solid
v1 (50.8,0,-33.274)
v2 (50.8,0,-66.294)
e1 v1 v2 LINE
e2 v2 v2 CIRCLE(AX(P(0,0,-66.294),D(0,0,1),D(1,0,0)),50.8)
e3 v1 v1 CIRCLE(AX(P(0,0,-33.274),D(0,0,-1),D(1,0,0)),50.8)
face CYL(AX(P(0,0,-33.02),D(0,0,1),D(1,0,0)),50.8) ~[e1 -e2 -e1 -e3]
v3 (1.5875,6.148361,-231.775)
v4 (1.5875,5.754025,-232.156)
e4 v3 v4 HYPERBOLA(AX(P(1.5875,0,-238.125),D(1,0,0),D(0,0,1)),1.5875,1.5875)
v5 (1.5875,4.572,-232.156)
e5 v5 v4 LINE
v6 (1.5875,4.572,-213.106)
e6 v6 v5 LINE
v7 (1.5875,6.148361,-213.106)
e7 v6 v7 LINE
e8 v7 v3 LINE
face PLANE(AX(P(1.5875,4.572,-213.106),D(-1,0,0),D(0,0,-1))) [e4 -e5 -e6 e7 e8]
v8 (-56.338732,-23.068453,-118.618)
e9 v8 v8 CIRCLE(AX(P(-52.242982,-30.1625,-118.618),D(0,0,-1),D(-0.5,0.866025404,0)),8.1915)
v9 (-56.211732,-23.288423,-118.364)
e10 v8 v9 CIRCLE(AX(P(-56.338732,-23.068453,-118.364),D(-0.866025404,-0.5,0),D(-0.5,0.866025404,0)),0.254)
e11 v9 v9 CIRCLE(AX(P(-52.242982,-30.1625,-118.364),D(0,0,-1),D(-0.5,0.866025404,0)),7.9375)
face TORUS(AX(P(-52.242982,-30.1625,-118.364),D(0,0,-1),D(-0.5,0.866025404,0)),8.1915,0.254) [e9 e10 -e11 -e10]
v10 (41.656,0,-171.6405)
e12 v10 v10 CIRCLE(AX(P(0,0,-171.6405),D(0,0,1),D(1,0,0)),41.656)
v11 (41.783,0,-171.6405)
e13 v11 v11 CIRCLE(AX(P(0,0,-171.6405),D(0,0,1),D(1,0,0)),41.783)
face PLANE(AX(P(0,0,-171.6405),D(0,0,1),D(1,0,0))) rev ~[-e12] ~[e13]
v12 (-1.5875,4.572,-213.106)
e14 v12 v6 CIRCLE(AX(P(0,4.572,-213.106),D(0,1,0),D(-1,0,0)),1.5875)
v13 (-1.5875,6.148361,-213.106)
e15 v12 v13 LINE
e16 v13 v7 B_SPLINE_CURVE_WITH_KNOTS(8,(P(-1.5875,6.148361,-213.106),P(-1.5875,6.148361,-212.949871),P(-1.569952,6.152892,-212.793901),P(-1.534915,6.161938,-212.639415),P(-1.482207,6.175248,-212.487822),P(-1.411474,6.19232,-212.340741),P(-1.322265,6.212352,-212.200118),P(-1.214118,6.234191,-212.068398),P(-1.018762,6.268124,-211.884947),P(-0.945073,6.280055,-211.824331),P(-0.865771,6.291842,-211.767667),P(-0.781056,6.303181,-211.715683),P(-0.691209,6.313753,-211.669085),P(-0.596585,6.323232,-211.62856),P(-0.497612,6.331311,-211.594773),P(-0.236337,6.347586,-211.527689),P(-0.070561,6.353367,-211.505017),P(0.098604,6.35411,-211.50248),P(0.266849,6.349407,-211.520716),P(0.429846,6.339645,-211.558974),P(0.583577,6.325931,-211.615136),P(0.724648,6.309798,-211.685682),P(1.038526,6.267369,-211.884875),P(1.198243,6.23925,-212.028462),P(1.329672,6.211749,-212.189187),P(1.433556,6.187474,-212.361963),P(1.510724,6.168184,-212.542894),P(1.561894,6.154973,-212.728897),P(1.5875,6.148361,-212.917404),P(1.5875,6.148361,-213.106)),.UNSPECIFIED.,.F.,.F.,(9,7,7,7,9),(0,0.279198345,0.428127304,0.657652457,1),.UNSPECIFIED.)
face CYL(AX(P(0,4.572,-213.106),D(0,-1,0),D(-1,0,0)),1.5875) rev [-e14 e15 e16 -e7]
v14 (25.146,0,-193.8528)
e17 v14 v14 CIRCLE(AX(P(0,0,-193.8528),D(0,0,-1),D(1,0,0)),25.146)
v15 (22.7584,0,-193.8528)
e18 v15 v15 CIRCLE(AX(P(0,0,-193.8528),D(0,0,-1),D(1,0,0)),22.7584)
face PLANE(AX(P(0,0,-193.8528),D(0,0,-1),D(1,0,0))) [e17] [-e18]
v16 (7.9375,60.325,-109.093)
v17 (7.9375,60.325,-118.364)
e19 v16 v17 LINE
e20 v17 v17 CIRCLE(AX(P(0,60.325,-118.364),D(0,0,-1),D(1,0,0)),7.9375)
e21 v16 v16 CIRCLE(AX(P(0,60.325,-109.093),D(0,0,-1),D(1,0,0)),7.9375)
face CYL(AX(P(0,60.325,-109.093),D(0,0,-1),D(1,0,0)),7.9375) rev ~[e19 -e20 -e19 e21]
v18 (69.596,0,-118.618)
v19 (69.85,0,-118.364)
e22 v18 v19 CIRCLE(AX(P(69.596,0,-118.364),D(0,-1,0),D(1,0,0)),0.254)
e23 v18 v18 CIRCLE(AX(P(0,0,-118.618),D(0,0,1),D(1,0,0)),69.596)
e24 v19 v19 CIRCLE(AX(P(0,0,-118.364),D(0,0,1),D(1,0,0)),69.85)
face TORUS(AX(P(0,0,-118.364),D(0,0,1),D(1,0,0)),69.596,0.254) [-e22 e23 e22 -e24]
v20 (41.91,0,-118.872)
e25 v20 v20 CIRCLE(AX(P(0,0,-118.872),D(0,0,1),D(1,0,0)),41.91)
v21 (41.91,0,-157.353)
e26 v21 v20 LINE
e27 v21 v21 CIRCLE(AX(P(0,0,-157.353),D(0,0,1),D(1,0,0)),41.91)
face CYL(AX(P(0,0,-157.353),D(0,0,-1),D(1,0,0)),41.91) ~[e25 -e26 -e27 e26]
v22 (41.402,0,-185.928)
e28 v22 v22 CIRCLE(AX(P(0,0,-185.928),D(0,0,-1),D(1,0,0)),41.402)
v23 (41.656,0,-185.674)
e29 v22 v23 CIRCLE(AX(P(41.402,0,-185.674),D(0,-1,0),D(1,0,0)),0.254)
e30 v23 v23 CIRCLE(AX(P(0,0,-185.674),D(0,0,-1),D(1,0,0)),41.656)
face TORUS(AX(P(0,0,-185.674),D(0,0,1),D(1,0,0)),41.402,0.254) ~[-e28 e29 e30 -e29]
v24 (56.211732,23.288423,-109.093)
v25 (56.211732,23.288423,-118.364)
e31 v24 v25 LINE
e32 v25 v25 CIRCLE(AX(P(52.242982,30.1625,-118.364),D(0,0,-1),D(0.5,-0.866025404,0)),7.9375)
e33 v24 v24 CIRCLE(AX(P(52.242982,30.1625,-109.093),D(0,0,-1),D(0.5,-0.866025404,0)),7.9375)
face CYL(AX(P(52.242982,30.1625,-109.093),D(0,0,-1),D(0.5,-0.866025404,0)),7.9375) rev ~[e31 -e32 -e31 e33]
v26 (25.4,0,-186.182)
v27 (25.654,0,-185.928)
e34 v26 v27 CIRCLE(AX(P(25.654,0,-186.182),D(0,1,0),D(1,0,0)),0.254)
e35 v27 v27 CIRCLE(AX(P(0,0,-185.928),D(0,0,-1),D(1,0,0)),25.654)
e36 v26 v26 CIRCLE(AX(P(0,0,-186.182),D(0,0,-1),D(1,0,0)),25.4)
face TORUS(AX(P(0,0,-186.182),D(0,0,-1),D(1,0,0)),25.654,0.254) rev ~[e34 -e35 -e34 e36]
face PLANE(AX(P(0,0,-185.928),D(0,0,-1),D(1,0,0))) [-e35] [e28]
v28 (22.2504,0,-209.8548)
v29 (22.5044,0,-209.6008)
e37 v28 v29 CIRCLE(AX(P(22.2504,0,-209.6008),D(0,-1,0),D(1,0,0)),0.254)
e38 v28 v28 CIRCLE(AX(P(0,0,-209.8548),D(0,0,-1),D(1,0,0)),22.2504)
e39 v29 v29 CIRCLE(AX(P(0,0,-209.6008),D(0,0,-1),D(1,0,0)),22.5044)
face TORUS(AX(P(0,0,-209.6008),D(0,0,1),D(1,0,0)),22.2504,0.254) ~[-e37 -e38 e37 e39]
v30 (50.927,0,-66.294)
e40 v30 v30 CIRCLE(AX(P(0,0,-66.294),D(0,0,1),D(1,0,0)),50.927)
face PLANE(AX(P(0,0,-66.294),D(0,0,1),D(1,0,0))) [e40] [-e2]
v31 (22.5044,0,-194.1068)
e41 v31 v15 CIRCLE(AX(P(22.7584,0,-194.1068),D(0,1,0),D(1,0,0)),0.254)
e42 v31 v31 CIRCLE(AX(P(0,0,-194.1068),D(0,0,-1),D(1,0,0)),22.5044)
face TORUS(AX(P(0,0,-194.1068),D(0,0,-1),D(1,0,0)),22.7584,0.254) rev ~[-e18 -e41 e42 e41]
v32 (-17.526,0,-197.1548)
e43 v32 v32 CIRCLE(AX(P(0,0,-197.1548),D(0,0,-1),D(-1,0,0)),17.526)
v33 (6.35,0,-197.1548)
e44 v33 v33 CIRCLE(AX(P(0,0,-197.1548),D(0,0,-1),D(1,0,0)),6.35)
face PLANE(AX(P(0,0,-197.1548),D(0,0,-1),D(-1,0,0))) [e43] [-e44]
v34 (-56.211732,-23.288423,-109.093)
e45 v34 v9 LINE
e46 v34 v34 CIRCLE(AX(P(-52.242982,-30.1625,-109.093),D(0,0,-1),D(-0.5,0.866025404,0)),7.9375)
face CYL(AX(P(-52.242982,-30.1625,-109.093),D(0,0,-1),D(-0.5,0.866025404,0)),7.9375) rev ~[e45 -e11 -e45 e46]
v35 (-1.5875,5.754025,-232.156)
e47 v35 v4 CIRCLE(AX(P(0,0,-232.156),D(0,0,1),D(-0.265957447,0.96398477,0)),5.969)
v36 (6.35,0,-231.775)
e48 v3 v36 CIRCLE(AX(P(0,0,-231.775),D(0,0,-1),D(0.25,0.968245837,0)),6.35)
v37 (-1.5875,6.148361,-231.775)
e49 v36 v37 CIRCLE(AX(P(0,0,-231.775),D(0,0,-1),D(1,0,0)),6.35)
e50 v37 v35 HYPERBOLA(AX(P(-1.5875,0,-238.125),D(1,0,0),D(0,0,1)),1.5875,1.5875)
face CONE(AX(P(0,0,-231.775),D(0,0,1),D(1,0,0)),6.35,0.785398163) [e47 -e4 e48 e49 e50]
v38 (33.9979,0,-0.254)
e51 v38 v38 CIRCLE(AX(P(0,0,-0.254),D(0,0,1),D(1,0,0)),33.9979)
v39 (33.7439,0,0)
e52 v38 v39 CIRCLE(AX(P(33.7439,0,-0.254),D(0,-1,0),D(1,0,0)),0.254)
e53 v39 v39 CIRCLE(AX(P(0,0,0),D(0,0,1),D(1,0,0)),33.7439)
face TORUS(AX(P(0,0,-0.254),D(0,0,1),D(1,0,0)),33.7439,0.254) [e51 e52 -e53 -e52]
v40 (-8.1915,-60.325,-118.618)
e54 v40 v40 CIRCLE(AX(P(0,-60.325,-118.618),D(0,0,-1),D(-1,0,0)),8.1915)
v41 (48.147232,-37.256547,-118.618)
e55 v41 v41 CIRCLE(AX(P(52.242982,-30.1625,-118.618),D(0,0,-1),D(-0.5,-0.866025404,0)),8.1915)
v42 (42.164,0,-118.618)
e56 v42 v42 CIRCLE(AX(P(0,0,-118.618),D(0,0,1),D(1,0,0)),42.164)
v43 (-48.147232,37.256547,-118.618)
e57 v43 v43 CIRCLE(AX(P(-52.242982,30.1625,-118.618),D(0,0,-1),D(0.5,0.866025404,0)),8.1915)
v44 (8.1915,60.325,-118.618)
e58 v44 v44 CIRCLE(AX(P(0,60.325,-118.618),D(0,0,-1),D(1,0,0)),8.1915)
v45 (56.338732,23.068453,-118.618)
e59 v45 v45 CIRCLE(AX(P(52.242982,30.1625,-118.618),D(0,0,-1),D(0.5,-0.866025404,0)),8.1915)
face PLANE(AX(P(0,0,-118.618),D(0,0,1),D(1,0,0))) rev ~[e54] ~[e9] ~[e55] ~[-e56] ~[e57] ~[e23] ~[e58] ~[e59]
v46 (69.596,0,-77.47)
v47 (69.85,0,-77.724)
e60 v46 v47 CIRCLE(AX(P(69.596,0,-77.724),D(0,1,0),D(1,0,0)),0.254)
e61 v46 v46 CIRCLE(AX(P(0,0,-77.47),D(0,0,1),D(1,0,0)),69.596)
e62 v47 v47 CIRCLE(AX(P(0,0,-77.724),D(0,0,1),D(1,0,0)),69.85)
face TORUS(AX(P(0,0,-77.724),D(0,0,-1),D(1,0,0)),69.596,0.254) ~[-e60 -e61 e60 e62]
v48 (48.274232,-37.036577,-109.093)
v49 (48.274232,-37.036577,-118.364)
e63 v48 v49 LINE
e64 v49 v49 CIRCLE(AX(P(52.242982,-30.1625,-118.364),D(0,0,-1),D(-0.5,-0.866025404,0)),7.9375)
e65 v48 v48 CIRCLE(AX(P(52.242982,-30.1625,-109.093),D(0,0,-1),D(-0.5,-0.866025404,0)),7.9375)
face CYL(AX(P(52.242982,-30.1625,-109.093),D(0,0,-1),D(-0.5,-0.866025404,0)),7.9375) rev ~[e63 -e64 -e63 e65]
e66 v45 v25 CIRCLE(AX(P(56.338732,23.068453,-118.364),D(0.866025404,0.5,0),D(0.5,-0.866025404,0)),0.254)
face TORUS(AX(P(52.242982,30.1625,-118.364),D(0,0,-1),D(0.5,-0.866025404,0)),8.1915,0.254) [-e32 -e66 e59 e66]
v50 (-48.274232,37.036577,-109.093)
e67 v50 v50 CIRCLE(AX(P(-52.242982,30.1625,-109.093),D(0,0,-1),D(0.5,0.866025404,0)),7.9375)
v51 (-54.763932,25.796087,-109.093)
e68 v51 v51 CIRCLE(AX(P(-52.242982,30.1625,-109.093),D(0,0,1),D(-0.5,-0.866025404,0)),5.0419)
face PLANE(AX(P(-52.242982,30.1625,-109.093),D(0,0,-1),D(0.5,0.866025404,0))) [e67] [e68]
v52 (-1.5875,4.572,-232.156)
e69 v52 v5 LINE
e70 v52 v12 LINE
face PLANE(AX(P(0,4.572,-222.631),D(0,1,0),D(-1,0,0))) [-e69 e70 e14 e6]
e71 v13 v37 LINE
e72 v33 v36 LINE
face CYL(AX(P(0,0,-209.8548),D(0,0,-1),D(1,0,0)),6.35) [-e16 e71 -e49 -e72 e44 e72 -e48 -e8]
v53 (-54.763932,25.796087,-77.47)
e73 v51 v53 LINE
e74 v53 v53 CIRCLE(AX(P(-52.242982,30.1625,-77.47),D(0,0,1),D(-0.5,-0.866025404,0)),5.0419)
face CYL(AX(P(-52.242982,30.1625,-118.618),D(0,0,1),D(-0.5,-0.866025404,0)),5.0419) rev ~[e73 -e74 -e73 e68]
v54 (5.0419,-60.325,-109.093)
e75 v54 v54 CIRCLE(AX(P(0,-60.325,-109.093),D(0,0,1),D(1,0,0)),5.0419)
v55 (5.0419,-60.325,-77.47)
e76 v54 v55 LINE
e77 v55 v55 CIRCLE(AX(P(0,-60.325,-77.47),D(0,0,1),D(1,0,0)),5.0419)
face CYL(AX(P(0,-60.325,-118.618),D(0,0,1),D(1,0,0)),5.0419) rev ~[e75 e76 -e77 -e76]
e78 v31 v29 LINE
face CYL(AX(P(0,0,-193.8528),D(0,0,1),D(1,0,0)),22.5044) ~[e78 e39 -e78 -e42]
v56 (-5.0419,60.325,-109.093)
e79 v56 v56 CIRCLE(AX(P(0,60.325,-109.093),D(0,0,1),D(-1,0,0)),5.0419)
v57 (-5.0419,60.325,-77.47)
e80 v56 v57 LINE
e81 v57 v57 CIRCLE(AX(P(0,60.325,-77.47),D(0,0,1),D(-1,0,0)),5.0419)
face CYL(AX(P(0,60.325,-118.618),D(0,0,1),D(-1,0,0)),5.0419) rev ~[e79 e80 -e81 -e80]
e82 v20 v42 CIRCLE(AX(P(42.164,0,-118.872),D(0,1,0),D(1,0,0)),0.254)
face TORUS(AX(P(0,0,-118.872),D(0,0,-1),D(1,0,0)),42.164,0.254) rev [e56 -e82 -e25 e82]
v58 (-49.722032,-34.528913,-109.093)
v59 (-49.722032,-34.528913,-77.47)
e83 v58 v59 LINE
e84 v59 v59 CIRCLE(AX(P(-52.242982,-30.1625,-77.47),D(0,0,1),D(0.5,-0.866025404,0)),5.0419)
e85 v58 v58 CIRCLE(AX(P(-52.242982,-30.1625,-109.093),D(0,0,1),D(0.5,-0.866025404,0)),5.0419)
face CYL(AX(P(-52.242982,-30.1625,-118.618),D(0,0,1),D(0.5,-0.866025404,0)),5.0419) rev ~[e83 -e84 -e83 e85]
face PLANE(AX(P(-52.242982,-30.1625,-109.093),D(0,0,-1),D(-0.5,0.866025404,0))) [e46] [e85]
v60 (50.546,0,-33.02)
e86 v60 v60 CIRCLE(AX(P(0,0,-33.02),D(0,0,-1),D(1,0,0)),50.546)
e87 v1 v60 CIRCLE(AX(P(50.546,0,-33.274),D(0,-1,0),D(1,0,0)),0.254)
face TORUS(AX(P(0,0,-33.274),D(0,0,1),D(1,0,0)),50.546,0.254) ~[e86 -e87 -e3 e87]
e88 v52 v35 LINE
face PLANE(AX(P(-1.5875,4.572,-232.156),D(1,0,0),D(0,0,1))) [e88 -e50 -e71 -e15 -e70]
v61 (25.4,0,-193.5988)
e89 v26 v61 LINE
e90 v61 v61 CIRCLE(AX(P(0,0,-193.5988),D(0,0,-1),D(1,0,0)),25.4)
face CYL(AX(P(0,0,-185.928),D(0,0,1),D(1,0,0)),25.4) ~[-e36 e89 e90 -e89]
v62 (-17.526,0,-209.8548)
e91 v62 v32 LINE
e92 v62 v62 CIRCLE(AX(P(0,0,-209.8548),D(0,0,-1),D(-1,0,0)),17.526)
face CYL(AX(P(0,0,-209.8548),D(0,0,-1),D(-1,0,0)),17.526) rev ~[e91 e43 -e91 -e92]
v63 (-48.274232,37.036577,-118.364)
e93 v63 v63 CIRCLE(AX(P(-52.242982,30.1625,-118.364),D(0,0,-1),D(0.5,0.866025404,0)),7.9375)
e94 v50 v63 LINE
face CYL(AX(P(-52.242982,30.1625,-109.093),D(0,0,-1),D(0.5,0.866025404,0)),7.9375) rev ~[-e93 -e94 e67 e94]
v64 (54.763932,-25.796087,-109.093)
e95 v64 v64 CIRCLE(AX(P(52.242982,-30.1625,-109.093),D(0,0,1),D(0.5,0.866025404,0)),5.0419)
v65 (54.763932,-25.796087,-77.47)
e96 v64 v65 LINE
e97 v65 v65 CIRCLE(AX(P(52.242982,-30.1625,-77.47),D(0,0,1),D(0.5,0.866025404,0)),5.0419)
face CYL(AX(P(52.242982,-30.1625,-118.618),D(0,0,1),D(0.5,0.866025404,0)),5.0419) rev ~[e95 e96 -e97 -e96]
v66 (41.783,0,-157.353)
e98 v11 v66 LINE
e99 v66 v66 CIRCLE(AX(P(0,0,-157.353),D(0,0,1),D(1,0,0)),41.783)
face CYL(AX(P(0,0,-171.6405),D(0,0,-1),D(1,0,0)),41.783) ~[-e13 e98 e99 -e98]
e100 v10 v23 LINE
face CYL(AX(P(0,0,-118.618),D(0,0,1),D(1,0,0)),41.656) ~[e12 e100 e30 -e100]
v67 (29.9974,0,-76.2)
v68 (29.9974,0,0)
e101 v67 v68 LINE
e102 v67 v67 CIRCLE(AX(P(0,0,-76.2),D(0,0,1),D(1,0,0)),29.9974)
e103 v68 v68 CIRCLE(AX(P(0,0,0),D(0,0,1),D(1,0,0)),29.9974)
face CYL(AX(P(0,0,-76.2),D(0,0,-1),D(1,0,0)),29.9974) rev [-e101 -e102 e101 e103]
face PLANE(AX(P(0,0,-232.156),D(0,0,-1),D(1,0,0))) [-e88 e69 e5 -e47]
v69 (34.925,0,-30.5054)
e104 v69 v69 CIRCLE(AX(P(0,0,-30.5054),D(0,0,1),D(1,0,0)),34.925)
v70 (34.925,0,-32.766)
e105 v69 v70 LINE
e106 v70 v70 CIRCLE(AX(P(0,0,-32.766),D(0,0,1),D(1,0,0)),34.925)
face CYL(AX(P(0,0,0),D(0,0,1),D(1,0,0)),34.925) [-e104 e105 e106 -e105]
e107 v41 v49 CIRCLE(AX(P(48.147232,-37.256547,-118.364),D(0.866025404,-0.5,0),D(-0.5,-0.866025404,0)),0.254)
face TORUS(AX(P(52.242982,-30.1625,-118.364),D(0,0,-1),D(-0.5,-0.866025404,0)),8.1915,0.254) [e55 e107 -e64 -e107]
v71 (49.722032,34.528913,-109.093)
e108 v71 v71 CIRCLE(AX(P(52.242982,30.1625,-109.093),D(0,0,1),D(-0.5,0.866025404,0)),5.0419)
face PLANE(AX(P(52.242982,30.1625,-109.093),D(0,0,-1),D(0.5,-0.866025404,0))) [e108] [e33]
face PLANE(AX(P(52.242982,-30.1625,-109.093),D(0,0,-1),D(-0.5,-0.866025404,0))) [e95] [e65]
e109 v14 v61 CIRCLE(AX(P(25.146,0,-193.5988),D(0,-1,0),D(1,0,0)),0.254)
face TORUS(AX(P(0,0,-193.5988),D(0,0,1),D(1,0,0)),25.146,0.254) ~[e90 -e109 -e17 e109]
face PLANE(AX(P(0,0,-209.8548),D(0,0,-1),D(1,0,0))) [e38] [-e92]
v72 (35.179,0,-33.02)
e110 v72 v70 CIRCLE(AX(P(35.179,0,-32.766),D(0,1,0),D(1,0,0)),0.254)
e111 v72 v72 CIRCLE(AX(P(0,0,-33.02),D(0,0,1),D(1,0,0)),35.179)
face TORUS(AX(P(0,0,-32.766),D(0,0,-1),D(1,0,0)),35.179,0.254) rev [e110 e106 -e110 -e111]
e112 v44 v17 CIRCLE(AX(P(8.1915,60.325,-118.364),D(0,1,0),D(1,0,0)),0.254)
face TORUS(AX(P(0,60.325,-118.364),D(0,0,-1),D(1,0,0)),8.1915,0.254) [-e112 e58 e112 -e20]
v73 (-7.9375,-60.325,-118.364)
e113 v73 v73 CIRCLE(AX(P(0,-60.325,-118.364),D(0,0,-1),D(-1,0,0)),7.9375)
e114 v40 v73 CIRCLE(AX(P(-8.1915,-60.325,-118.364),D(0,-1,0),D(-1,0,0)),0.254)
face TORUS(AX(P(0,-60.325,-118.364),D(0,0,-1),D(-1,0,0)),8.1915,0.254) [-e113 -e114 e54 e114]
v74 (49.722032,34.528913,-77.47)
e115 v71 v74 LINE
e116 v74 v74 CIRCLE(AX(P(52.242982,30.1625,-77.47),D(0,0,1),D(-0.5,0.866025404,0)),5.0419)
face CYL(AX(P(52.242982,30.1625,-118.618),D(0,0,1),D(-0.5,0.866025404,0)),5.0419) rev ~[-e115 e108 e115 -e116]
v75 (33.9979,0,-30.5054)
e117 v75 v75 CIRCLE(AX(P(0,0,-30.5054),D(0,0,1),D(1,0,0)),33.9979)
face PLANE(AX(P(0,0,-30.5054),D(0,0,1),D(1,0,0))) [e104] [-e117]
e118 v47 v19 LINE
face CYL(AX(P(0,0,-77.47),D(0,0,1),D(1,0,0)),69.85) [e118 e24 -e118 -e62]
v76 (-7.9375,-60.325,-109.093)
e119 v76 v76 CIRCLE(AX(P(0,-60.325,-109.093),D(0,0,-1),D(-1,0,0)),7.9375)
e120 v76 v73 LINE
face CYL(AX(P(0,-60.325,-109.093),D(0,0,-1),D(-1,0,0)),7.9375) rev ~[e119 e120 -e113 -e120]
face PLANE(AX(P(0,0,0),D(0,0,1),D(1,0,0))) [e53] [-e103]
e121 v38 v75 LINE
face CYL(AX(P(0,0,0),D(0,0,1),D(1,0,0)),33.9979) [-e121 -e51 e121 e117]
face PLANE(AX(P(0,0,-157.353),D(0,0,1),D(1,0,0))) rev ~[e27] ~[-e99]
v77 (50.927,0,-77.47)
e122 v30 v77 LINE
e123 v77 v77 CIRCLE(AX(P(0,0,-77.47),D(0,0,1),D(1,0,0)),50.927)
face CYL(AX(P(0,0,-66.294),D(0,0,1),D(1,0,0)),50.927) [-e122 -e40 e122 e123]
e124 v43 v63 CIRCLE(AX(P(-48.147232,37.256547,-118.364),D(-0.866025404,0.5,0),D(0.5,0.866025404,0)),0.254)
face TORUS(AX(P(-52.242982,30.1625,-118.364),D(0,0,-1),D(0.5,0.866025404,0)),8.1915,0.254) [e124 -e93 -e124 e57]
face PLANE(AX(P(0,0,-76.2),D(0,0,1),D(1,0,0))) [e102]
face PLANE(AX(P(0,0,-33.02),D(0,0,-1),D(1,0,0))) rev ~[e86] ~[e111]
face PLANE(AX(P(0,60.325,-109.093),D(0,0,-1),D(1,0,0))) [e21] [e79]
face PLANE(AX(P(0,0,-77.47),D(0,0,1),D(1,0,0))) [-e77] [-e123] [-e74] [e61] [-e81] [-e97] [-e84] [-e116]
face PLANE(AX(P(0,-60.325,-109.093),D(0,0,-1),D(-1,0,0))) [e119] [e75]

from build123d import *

# Parameters (mm, degrees)
SKETCH1_R                 = 34.925
EXTRUDE_E_DEPTH           = 33.02
SKETCH2_R                 = 34.925
SKETCH2_R_2               = 33.9979
FROM_DRAWING_DEPTH        = 30.5054
SKETCH3_R                 = 50.8
EXTRUDE_C_DEPTH           = 44.45
SKETCH4_R                 = 50.927
SKETCH4_R_2               = 50.8
BOSS_EXTRUDE3_DEPTH       = 11.176
SKETCH5_R                 = 69.85
EXTRUDE_B_DEPTH           = 41.148
CUT_EXTRUDE_START         = -76.2
SKETCH6_R                 = 29.9974
CUT_EXTRUDE_F_DEPTH       = 76.2
SKETCH8_R                 = 41.656
EXTRUDE_D_DEPTH           = 67.31
BOSS_EXTRUDE6_START       = 14.2875
SKETCH9_R                 = 41.783
BOSS_EXTRUDE6_DEPTH       = 14.2875
SKETCH10_R                = 41.91
BOSS_EXTRUDE7_DEPTH       = 38.735
SKETCH11_R                = 25.4
FROM_DRAWING_2_DEPTH      = 7.9248
SKETCH12_R                = 22.5044
EXTRUDE_Q_DEPTH           = 16.002
SKETCH13_R                = 6.35
EXTRUDE_R_DEPTH           = 22.3012
HOLE_WIZARD_S_D           = 10.0838
HOLE_WIZARD_S_CBORE_D     = 15.875
HOLE_WIZARD_S_CBORE_DEPTH = 9.525
CIRPATTERN1_COUNT         = 6
SKETCH16_R                = 17.526
SKETCH16_R_2              = 6.35
CUT_EXTRUDE3_DEPTH        = 12.7
CUT_EXTRUDE_T_DEPTH       = 66.278
CHAMFER1_SIZE             = 0.381
FILLET1_R                 = 0.254


with BuildPart() as part:
    # Sketch1 → Extrude E (new body)
    with BuildSketch(Plane.XY):
        Circle(SKETCH1_R)
    extrude(amount=-EXTRUDE_E_DEPTH)

    # Sketch2 → from drawing (cut)
    with BuildSketch(Plane.XY):
        Circle(SKETCH2_R)
        Circle(SKETCH2_R_2, mode=Mode.SUBTRACT)
    extrude(amount=-FROM_DRAWING_DEPTH, mode=Mode.SUBTRACT)

    # Sketch3 → Extrude C (add)
    with BuildSketch(Plane(origin=(0, 0, -33.02), x_dir=(-1, 0, 0), z_dir=(0, 0, -1))):
        with Locations(Location((0, 0, 0), (0, 0, 180))):  # turned: the seam where the file's is
            Circle(SKETCH3_R)
    extrude(amount=EXTRUDE_C_DEPTH)

    # Sketch4 → Boss-Extrude3 (add)
    with BuildSketch(Plane.XY.offset(-66.294)):
        Circle(SKETCH4_R)
        Circle(SKETCH4_R_2, mode=Mode.SUBTRACT)
    extrude(amount=-BOSS_EXTRUDE3_DEPTH)

    # Sketch5 → Extrude B (add)
    with BuildSketch(Plane.XY.offset(-77.47)):
        Circle(SKETCH5_R)
    extrude(amount=-EXTRUDE_B_DEPTH)

    # Sketch6 → Cut-Extrude F (cut)
    with BuildSketch(Plane.XY.offset(CUT_EXTRUDE_START)):
        Circle(SKETCH6_R)
    extrude(amount=CUT_EXTRUDE_F_DEPTH, mode=Mode.SUBTRACT)

    # Sketch8 → Extrude D (add)
    with BuildSketch(Plane(origin=(0, 0, -118.618), x_dir=(-1, 0, 0), z_dir=(0, 0, -1))):
        with Locations(Location((0, 0, 0), (0, 0, 180))):  # turned: the seam where the file's is
            Circle(SKETCH8_R)
    extrude(amount=EXTRUDE_D_DEPTH)

    # Sketch9 → Boss-Extrude6 (add)
    with BuildSketch(Plane.XY.offset(-185.928).offset(BOSS_EXTRUDE6_START)):
        Circle(SKETCH9_R)
    extrude(amount=BOSS_EXTRUDE6_DEPTH)

    # Sketch10 → Boss-Extrude7 (add)
    with BuildSketch(Plane.XY.offset(-157.353)):
        Circle(SKETCH10_R)
    extrude(amount=BOSS_EXTRUDE7_DEPTH)

    # Sketch11 → from drawing 2 (add)
    with BuildSketch(Plane(origin=(0, 0, -185.928), x_dir=(-1, 0, 0), z_dir=(0, 0, -1))):
        with Locations(Location((0, 0, 0), (0, 0, 180))):  # turned: the seam where the file's is
            Circle(SKETCH11_R)
    extrude(amount=FROM_DRAWING_2_DEPTH)

    # Sketch12 → Extrude Q (add)
    with BuildSketch(Plane(origin=(0, 0, -193.8528), x_dir=(-1, 0, 0), z_dir=(0, 0, -1))):
        with Locations(Location((0, 0, 0), (0, 0, 180))):  # turned: the seam where the file's is
            Circle(SKETCH12_R)
    extrude(amount=EXTRUDE_Q_DEPTH)

    # Sketch13 → Extrude R (add)
    with BuildSketch(Plane(origin=(0, 0, -209.8548), x_dir=(-1, 0, 0), z_dir=(0, 0, -1))):
        with Locations(Location((0, 0, 0), (0, 0, 180))):  # turned: the seam where the file's is
            Circle(SKETCH13_R)
    extrude(amount=EXTRUDE_R_DEPTH)

    # Hole Wizard S (through all)
    with Locations(Plane(origin=(0, 0, -118.618), x_dir=(-1, 0, 0), z_dir=(0, 0, -1))):
        with Locations((0, -60.325)):
            hole_wizard_s = CounterBoreHole(HOLE_WIZARD_S_D / 2, HOLE_WIZARD_S_CBORE_D / 2, HOLE_WIZARD_S_CBORE_DEPTH)

    # CirPattern1: Hole Wizard S ×6 about axis
    cirpattern1_axis = Axis((0, 0, 0), (0, 0, 1))
    for i in range(1, CIRPATTERN1_COUNT):
        add(hole_wizard_s.rotate(cirpattern1_axis, i * 360 / CIRPATTERN1_COUNT), mode=Mode.SUBTRACT)

    # Sketch16 → Cut-Extrude3 (cut)
    with BuildSketch(Plane(origin=(0, 0, -209.8548), x_dir=(-1, 0, 0), z_dir=(0, 0, -1))):
        Circle(SKETCH16_R)
        with Locations(Location((0, 0, 0), (0, 0, 180))):  # turned: the seam where the file's is
            Circle(SKETCH16_R_2, mode=Mode.SUBTRACT)
    extrude(amount=-CUT_EXTRUDE3_DEPTH, mode=Mode.SUBTRACT)

    # Sketch17 → Cut-Extrude T (cut, through all)
    with BuildSketch(Plane.XZ.offset(-4.572)):
        with BuildLine():
            Line((-1.5875, -232.156), (-1.5875, -213.106))
            ThreePointArc((-1.5875, -213.106), (0, -211.5185), (1.5875, -213.106))
            Line((1.5875, -213.106), (1.5875, -232.156))
            ThreePointArc((1.5875, -232.156), (0, -233.7435), (-1.5875, -232.156))
        make_face()
    extrude(amount=-CUT_EXTRUDE_T_DEPTH, mode=Mode.SUBTRACT)

    # Chamfer1
    chamfer1_edges = [part.edges().sort_by_distance(p)[0] for p in [
        (-3.888564967, -5.020115786, -232.156),
    ]]
    chamfer(chamfer1_edges, length=CHAMFER1_SIZE)

    # Fillet1
    fillet1_edges = [part.edges().sort_by_distance(p)[0] for p in [
        (-48.274232483, -37.036576643, -118.618),
        (-33.9979, 0, 0),
        (-50.8, 0, -33.02),
        (-69.85, 0, -77.47),
        (-69.85, 0, -118.618),
        (-41.656, 0, -185.928),
        (-34.925, 0, -33.02),
        (-41.91, 0, -118.618),
        (-25.4, 0, -185.928),
        (-25.4, 0, -193.8528),
        (-22.5044, 0, -193.8528),
        (-22.5044, 0, -209.8548),
        (7.9375, -60.325, -118.618),
        (56.211732483, -23.288423357, -118.618),
        (48.274232483, 37.036576643, -118.618),
        (-7.9375, 60.325, -118.618),
        (-56.211732483, 23.288423357, -118.618),
    ]]
    fillet(fillet1_edges, radius=FILLET1_R)


solid = part.part
